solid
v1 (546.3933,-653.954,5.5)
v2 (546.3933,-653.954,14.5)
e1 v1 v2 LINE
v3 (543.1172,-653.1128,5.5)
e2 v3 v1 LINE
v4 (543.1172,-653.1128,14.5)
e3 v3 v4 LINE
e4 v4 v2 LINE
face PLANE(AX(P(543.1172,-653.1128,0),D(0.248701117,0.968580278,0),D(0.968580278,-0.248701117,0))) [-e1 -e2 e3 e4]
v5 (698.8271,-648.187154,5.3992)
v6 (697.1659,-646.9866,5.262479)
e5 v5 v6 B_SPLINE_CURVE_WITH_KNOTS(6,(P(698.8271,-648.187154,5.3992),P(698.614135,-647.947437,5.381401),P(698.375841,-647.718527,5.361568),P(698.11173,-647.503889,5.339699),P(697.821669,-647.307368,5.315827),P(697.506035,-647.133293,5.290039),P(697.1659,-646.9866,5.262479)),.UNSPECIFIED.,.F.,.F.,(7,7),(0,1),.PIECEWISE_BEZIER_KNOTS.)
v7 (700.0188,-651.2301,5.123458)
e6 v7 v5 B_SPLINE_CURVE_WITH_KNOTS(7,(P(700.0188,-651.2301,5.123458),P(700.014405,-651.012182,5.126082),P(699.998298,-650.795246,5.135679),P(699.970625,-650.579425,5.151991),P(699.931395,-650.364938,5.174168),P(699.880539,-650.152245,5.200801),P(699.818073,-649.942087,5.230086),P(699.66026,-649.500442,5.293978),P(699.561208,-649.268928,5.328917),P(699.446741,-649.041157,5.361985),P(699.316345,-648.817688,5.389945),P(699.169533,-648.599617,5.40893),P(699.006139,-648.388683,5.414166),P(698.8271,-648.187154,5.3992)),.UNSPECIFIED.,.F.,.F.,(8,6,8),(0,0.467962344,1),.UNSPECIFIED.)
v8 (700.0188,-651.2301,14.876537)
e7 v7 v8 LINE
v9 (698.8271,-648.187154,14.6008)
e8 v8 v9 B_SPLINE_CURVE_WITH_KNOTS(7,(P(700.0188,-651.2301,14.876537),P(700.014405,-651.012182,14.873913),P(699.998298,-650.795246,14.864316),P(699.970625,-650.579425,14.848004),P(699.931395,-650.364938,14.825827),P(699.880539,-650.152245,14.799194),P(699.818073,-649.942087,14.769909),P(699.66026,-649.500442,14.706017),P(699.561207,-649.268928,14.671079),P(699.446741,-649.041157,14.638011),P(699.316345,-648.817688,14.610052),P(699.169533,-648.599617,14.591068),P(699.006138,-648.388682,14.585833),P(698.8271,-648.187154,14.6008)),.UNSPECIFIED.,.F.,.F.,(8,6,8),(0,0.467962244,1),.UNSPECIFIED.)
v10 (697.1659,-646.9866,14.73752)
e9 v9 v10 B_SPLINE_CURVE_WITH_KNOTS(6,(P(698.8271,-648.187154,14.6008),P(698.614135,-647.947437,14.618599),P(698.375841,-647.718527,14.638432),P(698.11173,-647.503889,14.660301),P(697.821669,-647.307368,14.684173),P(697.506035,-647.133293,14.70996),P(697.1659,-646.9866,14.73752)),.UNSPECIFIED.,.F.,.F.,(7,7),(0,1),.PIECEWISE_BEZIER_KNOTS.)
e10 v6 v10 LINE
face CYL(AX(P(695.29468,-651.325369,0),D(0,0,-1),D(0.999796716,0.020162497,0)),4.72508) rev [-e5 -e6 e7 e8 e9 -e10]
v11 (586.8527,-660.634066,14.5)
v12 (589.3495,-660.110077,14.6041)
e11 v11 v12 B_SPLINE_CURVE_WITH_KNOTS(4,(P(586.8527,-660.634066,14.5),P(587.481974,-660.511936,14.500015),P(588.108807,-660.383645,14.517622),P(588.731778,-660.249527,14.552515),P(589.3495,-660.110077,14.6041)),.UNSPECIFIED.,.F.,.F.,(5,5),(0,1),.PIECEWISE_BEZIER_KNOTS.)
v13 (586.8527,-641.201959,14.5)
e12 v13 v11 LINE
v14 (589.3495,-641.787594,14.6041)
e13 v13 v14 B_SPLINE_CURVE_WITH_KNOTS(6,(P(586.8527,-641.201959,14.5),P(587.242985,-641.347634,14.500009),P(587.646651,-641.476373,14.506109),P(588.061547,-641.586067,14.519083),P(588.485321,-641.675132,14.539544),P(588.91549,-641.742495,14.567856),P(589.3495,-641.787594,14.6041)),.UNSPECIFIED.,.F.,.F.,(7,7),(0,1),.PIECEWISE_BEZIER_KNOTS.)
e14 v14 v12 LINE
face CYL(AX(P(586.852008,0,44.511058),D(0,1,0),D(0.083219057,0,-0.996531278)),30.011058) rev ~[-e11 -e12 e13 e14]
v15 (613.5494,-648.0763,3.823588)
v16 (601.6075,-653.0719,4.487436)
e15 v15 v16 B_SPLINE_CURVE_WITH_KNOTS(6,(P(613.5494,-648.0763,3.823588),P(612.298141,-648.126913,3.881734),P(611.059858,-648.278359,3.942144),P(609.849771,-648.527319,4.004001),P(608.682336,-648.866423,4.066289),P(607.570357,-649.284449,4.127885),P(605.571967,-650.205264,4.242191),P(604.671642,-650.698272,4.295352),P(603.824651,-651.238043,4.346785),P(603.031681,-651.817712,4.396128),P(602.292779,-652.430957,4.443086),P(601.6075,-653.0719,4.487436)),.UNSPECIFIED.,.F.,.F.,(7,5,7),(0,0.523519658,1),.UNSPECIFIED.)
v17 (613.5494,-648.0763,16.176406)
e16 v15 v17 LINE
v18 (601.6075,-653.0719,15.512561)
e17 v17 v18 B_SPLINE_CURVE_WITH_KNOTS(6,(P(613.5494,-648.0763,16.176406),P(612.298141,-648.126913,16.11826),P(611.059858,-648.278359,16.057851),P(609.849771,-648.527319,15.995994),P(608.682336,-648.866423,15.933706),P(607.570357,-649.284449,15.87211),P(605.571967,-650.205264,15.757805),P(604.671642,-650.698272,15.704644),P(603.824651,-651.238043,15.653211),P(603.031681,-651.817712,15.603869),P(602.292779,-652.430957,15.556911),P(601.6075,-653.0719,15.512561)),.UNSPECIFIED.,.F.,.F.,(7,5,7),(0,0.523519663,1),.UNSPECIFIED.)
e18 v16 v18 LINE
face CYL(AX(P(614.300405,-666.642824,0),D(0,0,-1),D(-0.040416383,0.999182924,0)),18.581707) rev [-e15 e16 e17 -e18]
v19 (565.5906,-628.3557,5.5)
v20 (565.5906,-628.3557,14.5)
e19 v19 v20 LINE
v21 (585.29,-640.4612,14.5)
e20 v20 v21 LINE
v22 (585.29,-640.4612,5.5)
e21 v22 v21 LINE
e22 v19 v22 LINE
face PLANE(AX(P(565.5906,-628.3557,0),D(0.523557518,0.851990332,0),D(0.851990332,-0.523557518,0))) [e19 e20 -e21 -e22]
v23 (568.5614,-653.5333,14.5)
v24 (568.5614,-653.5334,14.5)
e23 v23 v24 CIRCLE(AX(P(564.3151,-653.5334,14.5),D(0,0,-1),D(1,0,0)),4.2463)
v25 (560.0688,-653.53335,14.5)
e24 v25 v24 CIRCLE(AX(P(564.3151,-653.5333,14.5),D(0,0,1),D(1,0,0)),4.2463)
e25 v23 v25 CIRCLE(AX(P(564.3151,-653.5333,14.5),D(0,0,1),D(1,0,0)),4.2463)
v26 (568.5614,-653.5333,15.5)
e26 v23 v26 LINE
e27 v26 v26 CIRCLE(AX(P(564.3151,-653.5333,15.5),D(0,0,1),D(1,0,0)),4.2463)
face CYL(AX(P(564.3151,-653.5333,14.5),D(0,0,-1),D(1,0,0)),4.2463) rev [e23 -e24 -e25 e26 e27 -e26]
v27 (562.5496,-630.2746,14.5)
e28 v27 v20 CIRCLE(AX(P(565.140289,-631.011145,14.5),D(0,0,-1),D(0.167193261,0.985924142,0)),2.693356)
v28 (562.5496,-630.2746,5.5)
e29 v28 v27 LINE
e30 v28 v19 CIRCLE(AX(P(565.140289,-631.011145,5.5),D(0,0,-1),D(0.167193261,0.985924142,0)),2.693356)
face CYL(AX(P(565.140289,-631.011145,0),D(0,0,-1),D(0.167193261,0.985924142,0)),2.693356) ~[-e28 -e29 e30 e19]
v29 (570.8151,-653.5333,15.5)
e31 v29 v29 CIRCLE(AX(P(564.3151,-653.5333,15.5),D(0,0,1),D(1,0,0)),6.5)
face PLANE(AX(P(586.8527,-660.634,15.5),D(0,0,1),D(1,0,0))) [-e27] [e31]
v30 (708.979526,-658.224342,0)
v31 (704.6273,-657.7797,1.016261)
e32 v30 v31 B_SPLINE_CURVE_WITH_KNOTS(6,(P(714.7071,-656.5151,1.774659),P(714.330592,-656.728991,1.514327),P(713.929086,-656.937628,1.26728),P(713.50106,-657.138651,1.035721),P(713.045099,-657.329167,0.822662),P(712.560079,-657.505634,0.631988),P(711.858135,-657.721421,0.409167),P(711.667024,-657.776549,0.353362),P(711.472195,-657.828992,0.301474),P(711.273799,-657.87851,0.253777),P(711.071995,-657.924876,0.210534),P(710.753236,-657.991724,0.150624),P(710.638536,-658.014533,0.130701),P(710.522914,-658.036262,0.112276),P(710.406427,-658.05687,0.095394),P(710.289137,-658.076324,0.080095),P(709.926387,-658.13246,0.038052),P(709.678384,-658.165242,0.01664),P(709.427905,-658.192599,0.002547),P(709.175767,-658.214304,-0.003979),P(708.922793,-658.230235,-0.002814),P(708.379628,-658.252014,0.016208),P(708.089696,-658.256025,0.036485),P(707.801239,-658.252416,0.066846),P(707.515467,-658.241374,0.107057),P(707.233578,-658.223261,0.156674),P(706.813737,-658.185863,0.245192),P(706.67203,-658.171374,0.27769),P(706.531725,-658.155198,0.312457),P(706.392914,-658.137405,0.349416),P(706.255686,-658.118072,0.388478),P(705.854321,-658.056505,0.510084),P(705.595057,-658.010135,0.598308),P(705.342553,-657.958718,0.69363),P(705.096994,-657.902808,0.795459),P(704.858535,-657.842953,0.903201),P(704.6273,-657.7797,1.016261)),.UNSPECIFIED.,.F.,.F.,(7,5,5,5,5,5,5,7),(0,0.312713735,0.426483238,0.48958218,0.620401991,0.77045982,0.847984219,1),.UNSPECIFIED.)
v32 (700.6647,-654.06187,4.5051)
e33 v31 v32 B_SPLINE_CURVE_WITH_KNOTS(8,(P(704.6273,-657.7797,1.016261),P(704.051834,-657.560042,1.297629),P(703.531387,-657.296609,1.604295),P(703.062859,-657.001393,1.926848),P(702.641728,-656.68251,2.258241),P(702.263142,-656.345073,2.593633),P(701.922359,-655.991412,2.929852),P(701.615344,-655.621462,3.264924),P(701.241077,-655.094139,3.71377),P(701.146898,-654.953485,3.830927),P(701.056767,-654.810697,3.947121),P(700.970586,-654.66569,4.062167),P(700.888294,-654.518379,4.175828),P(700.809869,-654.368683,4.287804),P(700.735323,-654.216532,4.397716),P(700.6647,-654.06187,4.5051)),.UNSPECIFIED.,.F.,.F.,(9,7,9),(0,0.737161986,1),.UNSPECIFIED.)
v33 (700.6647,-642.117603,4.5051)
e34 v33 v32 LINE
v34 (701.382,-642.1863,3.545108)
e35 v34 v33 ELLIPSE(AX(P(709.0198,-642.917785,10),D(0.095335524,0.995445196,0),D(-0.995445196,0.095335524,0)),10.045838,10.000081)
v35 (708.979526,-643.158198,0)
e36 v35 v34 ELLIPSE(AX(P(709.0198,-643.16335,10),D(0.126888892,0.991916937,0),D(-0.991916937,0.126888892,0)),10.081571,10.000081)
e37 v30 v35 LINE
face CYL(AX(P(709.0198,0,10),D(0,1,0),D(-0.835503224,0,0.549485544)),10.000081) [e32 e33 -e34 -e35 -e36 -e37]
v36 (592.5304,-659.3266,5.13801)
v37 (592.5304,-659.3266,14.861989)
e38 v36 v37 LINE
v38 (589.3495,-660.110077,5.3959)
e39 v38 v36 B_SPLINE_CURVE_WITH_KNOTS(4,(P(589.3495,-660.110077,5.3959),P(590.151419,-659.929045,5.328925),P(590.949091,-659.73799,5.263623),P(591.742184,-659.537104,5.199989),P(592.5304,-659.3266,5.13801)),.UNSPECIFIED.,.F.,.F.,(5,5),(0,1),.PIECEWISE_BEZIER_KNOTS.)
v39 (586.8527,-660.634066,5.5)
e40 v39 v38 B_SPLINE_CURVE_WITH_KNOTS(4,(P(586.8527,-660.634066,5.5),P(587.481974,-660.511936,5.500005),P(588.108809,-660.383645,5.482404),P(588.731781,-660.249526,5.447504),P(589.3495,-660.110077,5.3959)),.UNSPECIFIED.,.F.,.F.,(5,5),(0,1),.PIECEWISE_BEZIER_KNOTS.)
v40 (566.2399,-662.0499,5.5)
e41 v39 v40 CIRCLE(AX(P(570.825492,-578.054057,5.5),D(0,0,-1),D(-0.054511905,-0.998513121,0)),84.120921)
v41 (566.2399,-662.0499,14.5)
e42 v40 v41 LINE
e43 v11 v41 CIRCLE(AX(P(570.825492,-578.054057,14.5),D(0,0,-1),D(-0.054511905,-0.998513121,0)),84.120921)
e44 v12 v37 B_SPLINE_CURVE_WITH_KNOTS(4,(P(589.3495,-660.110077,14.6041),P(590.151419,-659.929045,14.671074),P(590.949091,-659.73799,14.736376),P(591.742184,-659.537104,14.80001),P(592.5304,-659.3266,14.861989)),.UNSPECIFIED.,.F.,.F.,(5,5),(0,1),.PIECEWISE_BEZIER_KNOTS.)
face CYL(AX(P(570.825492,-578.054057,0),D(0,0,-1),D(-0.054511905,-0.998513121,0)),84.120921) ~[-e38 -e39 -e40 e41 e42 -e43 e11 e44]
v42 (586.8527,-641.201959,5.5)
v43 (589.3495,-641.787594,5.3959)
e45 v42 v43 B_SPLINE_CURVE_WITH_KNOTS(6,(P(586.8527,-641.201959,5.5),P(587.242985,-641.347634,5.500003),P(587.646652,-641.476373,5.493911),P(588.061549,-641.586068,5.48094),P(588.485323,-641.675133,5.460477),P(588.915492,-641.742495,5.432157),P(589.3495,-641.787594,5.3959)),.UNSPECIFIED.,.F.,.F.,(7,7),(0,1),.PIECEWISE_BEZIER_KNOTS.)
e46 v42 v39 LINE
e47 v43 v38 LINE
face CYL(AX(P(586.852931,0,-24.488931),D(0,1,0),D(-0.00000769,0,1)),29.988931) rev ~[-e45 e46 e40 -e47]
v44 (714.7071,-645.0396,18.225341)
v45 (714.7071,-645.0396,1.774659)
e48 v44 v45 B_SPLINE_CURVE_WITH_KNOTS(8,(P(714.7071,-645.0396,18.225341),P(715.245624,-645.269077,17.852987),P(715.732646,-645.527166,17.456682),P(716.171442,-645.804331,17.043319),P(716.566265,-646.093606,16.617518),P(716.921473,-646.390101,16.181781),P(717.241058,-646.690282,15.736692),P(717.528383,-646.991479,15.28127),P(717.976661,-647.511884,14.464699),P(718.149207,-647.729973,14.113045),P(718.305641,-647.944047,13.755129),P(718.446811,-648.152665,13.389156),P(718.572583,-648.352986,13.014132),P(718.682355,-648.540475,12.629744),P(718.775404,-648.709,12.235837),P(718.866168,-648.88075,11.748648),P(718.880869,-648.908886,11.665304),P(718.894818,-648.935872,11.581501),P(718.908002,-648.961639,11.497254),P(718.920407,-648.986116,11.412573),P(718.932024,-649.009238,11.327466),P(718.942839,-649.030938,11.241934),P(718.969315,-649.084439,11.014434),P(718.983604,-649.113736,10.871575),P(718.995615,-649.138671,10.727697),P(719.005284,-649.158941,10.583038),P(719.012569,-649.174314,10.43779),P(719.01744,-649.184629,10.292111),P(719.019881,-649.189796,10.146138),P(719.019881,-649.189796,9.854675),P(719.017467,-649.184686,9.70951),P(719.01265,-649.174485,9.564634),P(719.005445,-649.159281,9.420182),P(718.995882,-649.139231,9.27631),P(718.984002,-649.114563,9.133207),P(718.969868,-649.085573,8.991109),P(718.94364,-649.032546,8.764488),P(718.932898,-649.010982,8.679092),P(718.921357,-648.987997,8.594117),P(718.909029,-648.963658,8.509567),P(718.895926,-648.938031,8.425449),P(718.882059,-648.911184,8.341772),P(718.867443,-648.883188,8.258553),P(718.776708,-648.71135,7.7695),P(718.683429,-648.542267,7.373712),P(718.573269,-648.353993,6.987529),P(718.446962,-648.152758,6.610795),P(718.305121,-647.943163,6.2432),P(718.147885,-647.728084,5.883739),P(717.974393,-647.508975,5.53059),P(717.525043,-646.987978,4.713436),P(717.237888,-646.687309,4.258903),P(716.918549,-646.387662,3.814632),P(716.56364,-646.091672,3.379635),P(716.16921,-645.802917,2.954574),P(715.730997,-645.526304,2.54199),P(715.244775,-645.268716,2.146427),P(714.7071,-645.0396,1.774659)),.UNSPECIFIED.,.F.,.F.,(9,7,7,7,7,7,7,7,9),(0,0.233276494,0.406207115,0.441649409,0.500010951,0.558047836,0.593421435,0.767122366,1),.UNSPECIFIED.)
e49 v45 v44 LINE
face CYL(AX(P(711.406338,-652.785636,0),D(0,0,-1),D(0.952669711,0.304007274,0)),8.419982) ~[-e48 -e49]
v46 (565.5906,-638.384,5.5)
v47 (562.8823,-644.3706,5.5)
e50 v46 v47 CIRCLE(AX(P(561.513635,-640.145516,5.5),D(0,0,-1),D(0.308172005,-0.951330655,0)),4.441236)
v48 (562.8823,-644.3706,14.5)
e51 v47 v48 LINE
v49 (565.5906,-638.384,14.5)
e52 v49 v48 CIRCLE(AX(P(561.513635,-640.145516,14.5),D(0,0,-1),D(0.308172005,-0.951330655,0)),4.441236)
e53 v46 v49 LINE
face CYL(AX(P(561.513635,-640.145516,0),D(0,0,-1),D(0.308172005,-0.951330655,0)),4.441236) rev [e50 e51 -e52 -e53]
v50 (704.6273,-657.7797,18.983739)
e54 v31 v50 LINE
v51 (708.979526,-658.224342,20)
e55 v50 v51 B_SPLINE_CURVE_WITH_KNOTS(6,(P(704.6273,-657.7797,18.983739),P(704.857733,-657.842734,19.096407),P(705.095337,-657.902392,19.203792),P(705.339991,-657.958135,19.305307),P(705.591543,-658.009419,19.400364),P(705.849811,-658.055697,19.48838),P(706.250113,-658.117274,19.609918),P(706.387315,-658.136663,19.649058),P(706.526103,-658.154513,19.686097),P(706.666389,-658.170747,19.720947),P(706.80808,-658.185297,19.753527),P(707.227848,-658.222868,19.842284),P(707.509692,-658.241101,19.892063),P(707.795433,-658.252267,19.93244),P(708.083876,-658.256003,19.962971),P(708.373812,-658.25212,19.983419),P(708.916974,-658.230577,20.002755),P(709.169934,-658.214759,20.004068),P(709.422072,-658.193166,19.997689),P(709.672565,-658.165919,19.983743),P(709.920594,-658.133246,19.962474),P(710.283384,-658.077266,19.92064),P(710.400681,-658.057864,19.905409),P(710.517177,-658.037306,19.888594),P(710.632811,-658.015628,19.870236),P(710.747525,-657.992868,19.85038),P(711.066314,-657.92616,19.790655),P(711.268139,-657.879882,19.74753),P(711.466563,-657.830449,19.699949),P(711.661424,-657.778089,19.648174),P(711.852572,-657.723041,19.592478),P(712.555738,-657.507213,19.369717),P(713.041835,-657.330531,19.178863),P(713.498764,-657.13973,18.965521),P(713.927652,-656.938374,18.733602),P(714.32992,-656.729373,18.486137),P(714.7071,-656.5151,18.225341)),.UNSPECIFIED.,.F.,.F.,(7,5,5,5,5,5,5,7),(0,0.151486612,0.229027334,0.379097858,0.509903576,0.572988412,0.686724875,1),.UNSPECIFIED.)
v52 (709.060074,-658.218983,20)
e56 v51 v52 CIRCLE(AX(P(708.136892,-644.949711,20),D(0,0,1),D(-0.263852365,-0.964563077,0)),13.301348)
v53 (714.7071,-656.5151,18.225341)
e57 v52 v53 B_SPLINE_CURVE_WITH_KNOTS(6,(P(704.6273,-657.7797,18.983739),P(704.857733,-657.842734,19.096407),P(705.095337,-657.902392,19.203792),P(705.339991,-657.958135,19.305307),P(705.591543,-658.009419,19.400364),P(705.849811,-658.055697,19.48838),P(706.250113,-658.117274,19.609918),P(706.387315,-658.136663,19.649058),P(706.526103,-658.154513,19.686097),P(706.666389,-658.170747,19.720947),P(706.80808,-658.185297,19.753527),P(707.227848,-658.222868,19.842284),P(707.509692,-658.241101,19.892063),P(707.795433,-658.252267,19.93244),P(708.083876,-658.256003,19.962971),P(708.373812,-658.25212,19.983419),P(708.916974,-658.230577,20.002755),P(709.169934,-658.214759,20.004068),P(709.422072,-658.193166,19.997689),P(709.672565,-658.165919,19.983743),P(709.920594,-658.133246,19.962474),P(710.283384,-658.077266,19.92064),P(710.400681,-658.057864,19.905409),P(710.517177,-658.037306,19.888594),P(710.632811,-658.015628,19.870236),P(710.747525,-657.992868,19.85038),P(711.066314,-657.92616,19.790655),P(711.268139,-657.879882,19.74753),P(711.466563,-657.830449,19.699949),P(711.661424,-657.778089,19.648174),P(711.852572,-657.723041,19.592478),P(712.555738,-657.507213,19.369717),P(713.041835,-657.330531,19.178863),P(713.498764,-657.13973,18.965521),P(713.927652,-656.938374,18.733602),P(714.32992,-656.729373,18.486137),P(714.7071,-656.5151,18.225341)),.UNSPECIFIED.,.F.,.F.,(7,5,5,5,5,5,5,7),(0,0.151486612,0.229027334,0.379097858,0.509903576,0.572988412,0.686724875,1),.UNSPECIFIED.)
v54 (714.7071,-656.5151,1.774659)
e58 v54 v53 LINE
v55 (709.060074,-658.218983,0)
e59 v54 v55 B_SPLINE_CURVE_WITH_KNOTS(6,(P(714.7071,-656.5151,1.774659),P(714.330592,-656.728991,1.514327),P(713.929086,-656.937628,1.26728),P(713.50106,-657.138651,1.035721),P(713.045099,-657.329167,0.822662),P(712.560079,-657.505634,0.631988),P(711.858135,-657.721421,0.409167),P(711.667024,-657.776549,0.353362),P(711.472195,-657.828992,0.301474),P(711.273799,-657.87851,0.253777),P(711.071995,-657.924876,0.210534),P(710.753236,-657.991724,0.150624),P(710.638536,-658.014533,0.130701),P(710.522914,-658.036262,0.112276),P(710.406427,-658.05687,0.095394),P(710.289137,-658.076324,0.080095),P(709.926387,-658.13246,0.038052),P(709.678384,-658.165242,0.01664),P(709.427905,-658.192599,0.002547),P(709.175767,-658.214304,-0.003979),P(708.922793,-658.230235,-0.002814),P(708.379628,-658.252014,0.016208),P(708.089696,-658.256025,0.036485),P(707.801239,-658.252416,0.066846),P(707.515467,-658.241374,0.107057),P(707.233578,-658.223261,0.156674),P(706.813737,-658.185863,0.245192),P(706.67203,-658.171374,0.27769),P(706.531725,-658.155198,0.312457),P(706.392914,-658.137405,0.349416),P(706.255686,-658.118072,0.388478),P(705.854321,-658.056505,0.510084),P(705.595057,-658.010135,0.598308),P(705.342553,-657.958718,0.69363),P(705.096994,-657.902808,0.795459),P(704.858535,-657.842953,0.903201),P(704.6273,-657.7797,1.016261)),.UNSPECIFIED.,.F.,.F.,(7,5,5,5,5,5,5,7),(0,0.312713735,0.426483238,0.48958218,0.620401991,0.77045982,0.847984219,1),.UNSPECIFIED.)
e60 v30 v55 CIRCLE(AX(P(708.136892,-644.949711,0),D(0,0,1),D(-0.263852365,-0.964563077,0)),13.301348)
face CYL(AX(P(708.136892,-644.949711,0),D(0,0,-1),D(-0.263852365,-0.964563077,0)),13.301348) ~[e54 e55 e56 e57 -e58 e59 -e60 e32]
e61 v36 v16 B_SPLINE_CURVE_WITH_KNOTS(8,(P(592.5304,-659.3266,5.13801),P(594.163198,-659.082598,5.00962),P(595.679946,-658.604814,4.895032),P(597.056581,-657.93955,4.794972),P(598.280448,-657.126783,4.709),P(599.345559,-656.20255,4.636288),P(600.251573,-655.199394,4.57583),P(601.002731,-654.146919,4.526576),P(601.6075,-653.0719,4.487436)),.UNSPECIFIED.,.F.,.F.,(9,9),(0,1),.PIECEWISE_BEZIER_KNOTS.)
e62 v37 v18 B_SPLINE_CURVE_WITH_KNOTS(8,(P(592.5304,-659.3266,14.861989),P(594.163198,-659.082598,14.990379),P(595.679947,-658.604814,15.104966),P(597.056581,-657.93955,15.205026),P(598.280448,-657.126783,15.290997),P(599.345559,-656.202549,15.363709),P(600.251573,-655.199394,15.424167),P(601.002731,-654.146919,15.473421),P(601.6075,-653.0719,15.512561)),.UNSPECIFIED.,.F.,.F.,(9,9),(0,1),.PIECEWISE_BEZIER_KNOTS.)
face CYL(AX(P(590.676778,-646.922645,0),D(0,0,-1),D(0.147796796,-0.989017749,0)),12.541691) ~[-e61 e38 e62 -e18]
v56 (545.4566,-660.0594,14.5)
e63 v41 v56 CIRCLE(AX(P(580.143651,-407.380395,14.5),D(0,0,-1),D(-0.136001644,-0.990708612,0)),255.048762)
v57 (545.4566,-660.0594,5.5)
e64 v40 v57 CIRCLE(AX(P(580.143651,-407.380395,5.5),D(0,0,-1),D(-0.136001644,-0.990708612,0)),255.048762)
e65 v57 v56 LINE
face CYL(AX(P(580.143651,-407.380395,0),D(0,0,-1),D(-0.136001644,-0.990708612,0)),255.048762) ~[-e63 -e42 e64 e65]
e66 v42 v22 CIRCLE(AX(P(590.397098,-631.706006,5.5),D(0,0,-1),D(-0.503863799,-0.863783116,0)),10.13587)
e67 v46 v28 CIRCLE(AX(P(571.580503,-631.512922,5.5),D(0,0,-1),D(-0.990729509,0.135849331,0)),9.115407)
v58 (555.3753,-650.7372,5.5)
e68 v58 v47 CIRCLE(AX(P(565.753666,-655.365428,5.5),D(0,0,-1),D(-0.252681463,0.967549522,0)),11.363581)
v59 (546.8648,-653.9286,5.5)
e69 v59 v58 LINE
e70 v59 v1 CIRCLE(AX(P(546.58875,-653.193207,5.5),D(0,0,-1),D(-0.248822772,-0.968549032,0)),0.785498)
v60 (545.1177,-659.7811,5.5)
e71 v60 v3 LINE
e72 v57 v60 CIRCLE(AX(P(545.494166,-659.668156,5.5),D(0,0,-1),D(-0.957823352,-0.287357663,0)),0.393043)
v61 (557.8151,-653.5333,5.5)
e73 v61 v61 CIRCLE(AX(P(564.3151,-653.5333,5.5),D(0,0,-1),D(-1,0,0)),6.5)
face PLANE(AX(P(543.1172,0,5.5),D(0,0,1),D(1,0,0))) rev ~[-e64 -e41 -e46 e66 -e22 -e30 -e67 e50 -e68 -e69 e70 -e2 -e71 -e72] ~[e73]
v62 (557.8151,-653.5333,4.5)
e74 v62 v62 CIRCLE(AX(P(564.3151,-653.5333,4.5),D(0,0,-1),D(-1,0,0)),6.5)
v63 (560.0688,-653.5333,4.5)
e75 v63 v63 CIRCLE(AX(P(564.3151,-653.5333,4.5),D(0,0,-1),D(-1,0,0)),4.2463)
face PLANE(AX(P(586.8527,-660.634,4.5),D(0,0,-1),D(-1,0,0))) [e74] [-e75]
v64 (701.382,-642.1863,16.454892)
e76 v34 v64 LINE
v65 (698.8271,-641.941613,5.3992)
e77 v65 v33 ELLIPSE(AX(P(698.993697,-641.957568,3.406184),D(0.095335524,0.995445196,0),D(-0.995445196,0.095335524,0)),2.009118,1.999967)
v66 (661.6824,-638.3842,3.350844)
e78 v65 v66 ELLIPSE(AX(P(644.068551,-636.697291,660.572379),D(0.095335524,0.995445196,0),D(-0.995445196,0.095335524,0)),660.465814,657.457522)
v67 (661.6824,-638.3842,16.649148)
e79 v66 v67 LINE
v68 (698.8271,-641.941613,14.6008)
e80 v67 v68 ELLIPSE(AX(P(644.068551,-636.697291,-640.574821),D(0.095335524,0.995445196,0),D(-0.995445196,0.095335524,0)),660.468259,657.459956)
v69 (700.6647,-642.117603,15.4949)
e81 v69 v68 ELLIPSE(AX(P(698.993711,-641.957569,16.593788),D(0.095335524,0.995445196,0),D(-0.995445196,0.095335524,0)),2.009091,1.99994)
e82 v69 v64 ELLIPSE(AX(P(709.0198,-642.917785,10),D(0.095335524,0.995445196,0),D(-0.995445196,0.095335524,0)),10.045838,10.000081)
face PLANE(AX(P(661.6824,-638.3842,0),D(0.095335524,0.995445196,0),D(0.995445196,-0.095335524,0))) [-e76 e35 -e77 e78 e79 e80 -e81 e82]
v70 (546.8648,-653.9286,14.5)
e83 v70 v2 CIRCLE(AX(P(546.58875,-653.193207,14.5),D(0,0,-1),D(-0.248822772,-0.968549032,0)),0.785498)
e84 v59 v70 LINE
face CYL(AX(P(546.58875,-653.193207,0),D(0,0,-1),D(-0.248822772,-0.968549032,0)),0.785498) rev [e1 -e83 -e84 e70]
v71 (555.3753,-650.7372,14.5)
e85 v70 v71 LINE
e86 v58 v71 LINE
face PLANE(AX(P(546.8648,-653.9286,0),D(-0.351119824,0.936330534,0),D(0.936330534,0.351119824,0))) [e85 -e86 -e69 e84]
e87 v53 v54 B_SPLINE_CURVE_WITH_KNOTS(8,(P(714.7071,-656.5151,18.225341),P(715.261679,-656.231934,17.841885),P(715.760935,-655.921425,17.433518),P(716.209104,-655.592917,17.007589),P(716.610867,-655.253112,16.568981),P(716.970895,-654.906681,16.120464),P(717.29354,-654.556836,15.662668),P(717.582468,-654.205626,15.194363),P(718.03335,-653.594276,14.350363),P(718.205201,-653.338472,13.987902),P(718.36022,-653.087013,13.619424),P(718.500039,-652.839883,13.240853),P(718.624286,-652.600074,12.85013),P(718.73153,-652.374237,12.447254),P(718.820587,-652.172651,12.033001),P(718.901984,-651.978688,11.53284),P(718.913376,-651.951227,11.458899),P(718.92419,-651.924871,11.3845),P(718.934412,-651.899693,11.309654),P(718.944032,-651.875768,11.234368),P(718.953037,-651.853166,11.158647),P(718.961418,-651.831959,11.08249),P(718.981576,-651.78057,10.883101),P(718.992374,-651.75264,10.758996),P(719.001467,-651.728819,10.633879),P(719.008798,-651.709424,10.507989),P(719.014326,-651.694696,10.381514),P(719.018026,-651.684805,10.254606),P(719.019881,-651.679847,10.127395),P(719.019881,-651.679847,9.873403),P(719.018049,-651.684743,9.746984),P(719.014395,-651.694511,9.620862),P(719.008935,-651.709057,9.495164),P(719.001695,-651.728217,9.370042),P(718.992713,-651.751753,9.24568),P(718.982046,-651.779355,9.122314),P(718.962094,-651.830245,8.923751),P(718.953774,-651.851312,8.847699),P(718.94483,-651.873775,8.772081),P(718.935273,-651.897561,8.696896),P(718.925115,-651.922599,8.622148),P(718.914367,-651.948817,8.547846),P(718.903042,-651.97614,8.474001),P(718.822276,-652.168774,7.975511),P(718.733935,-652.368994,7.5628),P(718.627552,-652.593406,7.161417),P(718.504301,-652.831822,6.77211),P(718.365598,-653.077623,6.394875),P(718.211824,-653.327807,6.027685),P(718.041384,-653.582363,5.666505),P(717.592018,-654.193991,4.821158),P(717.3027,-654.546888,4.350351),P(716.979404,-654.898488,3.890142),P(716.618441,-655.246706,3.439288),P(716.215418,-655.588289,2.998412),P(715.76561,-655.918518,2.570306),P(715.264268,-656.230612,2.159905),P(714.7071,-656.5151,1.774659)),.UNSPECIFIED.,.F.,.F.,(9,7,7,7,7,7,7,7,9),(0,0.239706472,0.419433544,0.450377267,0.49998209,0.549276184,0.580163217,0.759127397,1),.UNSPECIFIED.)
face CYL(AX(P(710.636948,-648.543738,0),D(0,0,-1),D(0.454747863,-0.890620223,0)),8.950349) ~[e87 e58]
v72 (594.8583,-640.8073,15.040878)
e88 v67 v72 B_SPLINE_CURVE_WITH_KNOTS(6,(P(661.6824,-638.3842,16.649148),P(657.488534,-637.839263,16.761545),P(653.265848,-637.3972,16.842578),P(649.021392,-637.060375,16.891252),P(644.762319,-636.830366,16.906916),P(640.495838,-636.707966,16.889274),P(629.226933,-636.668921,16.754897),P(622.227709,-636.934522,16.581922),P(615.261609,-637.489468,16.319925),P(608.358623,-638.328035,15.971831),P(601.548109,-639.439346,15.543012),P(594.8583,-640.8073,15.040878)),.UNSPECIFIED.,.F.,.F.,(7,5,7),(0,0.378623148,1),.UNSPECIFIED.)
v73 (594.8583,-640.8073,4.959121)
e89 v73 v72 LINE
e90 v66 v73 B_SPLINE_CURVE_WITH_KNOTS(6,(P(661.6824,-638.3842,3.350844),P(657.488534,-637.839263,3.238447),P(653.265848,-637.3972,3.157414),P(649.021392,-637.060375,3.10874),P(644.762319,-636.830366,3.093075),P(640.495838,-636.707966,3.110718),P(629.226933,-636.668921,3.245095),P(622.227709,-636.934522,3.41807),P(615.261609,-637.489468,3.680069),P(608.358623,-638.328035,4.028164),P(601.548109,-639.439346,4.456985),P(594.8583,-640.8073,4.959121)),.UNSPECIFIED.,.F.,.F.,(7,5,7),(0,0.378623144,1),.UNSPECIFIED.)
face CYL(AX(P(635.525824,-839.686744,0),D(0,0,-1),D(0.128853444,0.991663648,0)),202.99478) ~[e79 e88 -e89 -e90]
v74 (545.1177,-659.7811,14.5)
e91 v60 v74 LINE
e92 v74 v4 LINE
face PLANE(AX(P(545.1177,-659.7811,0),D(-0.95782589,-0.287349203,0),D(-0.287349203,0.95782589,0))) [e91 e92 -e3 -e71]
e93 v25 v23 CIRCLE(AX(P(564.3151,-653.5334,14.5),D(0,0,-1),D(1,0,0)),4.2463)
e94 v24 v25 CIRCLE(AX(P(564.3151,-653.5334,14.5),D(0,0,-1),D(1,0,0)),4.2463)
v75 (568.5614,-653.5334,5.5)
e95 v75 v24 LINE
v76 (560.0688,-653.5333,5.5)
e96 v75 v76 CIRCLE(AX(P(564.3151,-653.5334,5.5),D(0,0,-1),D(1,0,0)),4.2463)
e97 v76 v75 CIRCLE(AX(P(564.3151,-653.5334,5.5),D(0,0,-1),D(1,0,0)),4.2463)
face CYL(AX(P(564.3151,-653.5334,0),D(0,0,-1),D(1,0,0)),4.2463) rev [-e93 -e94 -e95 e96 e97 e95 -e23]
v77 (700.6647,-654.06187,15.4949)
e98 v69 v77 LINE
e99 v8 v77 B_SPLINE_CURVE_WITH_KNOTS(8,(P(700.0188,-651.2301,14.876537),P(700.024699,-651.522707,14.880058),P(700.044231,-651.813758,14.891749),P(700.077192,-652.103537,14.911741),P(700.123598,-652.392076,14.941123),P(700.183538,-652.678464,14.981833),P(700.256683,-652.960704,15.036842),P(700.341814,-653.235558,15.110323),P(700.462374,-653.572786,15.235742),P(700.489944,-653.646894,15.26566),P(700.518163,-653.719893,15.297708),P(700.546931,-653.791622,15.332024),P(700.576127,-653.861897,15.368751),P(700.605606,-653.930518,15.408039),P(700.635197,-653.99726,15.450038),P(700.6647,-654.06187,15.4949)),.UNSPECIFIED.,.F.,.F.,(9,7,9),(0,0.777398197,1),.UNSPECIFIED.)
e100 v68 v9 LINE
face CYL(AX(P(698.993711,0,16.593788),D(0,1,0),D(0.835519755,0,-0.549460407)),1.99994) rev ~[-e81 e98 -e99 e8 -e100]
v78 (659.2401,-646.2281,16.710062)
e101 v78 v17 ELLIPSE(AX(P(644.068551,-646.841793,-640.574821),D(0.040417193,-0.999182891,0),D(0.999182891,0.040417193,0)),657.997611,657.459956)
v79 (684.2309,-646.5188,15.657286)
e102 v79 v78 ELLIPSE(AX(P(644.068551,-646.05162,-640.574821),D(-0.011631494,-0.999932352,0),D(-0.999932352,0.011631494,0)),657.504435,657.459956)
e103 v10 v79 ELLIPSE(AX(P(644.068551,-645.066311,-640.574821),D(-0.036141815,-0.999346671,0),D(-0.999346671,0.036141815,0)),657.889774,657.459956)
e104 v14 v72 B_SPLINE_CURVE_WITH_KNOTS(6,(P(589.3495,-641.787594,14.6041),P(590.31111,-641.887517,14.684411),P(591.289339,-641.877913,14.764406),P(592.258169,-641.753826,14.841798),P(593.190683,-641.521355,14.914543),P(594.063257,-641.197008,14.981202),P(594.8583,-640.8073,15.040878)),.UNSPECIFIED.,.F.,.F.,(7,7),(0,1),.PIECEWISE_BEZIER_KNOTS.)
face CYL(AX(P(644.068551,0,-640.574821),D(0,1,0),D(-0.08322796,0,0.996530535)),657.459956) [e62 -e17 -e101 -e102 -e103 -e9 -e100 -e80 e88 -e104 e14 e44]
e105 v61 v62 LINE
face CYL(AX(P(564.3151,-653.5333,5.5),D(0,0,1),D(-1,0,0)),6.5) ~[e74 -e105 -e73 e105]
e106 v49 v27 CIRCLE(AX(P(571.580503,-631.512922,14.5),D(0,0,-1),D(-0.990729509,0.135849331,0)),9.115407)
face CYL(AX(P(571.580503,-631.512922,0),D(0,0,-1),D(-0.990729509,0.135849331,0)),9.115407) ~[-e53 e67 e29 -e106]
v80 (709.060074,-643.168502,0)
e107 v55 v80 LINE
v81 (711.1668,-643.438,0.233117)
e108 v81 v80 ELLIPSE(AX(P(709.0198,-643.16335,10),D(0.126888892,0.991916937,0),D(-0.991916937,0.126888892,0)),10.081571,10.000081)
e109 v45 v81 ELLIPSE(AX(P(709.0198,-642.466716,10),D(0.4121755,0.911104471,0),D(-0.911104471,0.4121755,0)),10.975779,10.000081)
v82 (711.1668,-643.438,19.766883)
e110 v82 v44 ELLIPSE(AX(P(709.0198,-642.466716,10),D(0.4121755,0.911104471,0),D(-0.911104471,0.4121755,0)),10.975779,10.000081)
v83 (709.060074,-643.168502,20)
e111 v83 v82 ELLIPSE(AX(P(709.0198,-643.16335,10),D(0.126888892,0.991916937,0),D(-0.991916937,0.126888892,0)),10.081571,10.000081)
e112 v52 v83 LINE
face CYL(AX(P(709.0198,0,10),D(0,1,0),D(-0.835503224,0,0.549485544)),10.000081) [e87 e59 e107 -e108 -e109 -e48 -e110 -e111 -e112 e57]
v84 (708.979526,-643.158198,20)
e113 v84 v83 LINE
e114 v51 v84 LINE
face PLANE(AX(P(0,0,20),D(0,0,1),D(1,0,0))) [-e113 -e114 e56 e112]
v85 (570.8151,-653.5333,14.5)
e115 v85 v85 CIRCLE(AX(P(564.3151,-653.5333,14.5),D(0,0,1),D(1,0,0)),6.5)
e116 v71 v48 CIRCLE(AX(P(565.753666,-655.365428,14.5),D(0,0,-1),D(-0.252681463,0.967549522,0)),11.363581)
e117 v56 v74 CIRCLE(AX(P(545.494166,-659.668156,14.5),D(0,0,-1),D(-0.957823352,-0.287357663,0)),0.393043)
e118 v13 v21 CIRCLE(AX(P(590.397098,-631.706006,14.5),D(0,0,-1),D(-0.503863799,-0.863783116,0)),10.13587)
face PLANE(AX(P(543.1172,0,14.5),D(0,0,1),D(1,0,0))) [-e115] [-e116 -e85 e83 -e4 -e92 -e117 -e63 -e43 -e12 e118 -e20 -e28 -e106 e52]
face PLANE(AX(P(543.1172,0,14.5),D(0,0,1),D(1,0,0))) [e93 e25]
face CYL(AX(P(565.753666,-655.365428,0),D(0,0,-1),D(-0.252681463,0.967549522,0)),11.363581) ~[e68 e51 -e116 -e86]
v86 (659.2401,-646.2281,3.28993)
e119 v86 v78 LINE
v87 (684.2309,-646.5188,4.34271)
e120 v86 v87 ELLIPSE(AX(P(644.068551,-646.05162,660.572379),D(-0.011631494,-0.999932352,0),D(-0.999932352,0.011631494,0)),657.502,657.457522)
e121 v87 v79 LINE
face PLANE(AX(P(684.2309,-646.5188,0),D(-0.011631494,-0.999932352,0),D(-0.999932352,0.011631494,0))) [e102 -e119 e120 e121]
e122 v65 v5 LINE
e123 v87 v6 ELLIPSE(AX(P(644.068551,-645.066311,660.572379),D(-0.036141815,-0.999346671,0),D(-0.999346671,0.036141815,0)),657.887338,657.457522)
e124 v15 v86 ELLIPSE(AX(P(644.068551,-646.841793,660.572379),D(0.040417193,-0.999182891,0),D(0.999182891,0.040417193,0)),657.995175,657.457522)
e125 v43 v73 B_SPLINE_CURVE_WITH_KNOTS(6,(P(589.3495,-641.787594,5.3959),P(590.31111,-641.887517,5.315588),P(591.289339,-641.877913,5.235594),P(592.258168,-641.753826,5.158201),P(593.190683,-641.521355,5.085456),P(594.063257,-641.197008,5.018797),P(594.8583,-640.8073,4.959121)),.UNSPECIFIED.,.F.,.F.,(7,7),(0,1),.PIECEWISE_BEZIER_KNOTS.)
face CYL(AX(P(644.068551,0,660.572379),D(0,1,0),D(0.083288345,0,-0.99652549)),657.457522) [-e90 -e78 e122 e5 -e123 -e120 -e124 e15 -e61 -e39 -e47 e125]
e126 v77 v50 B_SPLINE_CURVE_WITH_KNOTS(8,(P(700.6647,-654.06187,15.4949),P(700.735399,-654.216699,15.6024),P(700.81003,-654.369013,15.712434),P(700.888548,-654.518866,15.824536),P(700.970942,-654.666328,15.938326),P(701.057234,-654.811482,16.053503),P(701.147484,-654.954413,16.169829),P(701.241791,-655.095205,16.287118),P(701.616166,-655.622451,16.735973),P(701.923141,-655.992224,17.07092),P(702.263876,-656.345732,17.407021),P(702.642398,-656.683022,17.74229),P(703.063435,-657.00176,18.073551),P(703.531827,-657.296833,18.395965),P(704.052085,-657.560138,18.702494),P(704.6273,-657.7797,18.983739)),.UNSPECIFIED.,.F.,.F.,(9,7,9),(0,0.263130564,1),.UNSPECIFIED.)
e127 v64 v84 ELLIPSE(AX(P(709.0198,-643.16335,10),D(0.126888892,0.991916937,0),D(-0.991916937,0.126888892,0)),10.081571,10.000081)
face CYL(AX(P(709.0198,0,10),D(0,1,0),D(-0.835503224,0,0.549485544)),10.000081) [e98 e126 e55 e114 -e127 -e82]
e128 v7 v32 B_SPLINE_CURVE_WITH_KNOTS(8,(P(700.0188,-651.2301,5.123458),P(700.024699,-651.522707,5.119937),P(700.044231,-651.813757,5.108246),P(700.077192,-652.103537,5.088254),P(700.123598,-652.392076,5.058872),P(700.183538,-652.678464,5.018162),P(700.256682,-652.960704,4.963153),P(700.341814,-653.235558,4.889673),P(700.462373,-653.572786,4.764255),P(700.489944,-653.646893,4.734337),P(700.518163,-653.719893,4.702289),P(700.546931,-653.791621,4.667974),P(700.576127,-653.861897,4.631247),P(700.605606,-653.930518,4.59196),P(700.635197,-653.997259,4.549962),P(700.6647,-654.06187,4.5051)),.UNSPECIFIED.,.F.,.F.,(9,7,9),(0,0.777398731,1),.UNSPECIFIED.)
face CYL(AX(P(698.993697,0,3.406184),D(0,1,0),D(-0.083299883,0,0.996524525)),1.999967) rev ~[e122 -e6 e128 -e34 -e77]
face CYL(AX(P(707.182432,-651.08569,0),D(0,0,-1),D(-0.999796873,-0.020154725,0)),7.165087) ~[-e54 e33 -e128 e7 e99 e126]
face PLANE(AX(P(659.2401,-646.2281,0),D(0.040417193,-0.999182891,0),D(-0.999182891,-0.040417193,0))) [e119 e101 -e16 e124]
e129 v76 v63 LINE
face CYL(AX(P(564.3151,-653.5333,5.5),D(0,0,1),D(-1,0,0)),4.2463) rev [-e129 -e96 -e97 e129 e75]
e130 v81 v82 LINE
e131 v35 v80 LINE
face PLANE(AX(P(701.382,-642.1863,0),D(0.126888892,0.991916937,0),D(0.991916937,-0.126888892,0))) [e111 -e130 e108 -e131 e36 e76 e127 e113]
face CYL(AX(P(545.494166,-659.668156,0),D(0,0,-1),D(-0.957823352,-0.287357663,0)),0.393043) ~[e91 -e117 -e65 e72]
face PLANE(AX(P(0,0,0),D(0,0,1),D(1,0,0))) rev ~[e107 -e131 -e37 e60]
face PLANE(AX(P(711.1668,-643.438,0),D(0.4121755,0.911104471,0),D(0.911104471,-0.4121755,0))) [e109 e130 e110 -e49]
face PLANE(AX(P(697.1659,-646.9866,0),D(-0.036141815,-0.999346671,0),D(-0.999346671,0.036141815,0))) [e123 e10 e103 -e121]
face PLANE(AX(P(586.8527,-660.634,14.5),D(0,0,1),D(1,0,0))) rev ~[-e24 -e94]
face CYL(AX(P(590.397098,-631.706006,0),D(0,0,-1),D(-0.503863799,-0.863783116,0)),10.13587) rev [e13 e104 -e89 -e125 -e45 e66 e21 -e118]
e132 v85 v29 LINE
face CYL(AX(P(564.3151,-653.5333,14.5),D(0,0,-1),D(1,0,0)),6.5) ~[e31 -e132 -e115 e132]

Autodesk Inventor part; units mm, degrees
ref_plane "YZ Plane" through (0, 0, 0) normal (1, 0, 0) x (0, 1, 0)
ref_plane "XZ Plane" through (0, 0, 0) normal (0, 1, 0) x (-1, 0, 0)
ref_plane "XY Plane" through (0, 0, 0) normal (0, 0, 1) x (1, 0, 0)
sketch "Sketch1" plane through (0, 0, 0) normal (0, 0, 1) x (1, 0, 0)
  line L0 (545.1177, -659.7811) -> (543.1172, -653.1128)
  line L1 (543.1172, -653.1128) -> (546.3933, -653.954)
  line L2 (546.8648, -653.9286) -> (555.3753, -650.7372)
  line L3 (565.5906, -628.3557) -> (585.29, -640.4612)
  line L4 (661.6824, -638.3842) -> (701.382, -642.1863)
  line L5 (701.382, -642.1863) -> (711.1668, -643.438)
  line L6 (711.1668, -643.438) -> (714.7071, -645.0396)
  line L7 (697.1659, -646.9866) -> (684.2309, -646.5188)
  line L8 (684.2309, -646.5188) -> (659.2401, -646.2281)
  line L9 (659.2401, -646.2281) -> (613.5494, -648.0763)
  arc A0 (545.1177, -659.7811) -> (545.4566, -660.0594) centre (545.4941, -659.6682) ccw
  arc A1 (546.3933, -653.954) -> (546.8648, -653.9286) centre (546.5888, -653.1927) ccw
  arc A2 (562.8823, -644.3706) -> (555.3753, -650.7372) centre (565.7536, -655.3653) ccw
  arc A3 (562.8823, -644.3706) -> (565.5906, -638.384) centre (561.5138, -640.1457) ccw
  arc A4 (562.5496, -630.2746) -> (565.5906, -638.384) centre (571.5807, -631.5129) ccw
  arc A5 (565.5906, -628.3557) -> (562.5496, -630.2746) centre (565.1403, -631.0112) ccw
  arc A6 (585.29, -640.4612) -> (594.8583, -640.8073) centre (590.3971, -631.706) ccw
  arc A7 (661.6824, -638.3842) -> (594.8583, -640.8073) centre (635.5259, -839.6851) ccw
  arc A8 (719.4278, -650.2259) -> (714.7071, -645.0396) centre (711.4064, -652.7856) ccw
  arc A9 (714.7071, -656.5151) -> (719.4278, -650.2259) centre (710.637, -648.5438) ccw
  arc A10 (704.6273, -657.7797) -> (714.7071, -656.5151) centre (708.1369, -644.9496) ccw
  arc A11 (700.0188, -651.2301) -> (704.6273, -657.7797) centre (707.1824, -651.0857) ccw
  arc A12 (700.0188, -651.2301) -> (697.1659, -646.9866) centre (695.2949, -651.3253) ccw
  arc A13 (613.5494, -648.0763) -> (601.6075, -653.0719) centre (614.3004, -666.6428) ccw
  arc A14 (592.5304, -659.3266) -> (601.6075, -653.0719) centre (590.6768, -646.9227) ccw
  arc A15 (566.2399, -662.0499) -> (592.5304, -659.3266) centre (570.8255, -578.0544) ccw
  arc A16 (545.4566, -660.0594) -> (566.2399, -662.0499) centre (580.1428, -407.3877) ccw
  circle A17 centre (564.3151, -653.5334) radius 4.2463
  point P0 (0, 0)
  dimension "d30" = 0.393
  dimension "d31" = 0.786
extrude "Extrusion1" add sketch "Sketch1" along normal blind 20
sketch "Sketch2" plane through (0, 0, 0) normal (0, 1, 0) x (-1, 0, 0)
  line L0 (-543.1172, 0) -> (-543.1172, 20) projected
  line L1 (-700.0198, 5.5) -> (-700.0198, 14.5)
  line L2 (-543.1172, 5.5) -> (-543.1172, 14.5)
  line L3 (-700.0198, 10) -> (-543.1172, 10) construction
  line L4 (-621.5685, 10) -> (-621.5685, 3.5) construction
  line L5 (-543.1172, 5.5) -> (-586.8527, 5.5)
  arc A0 (-698.8271, 5.3992) -> (-589.3495, 5.3959) centre (-644.0685, 660.5736) ccw
  arc A1 (-586.8527, 5.5) -> (-589.3495, 5.3959) centre (-586.8527, -24.5) ccw
  line L6 (-543.1172, 14.5) -> (-586.8527, 14.5)
  arc A2 (-589.3495, 14.6041) -> (-698.8271, 14.6008) centre (-644.0685, -640.5736) ccw
  arc A3 (-589.3495, 14.6041) -> (-586.8527, 14.5) centre (-586.8527, 44.5) ccw
  line L7 (-527.985, -16.5873) -> (-734.4622, -16.5873)
  line L8 (-734.4622, -16.5873) -> (-734.4622, 28.3783)
  line L9 (-734.4622, 28.3783) -> (-527.985, 28.3783)
  line L10 (-527.985, 28.3783) -> (-527.985, -16.5873)
  arc A4 (-700.6647, 15.4949) -> (-700.6647, 4.5051) centre (-709.0198, 10) ccw
  arc A5 (-698.8271, 5.3992) -> (-700.6647, 4.5051) centre (-698.9937, 3.4062) ccw
  arc A6 (-700.6647, 15.4949) -> (-698.8271, 14.6008) centre (-698.9937, 16.5938) ccw
  point P0 (0, 0)
  point P1 (0, 0)
  point P2 (0, 0)
  point P3 (-588.1172, 5.5)
  dimension "d42" = 9
  dimension "d43" = 9
  dimension "d45" = 6.5
  dimension "d46" = 45
  dimension "d47" = 30
  dimension "d48" = 20
  dimension "d49" = 9
  dimension "d50" = 2
extrude "Extrusion2" cut sketch "Sketch2" against normal through all
sketch "Sketch3" plane through (586.8527, -660.634, 14.5) normal (0, 0, 1) x (1, 0, 0)
  circle A0 centre (-22.5376, 7.1007) radius 4.2463 projected
  circle A1 centre (-22.5376, 7.1007) radius 6.5
  point P0 (-586.8527, 660.634)
  dimension "d53" = 13
extrude "Extrusion3" add sketch "Sketch3" along normal blind 1
sketch "Sketch4" plane through (586.8527, -660.634, 5.5) normal (0, 0, -1) x (-1, 0, 0)
  circle A0 centre (22.5376, 7.1007) radius 4.2463 projected
  circle A1 centre (22.5376, 7.1007) radius 6.5
  point P0 (586.8527, 660.634)
  dimension "d56" = 13
extrude "Extrusion4" add sketch "Sketch4" along normal blind 1
sketch "Sketch5" plane through (586.8527, -660.634, 5.5) normal (0, 0, -1) x (-1, 0, 0)
  line L0 (43.7354, 7.5213) -> (41.735, 0.8529) projected
  line L1 (0, 19.4321) -> (0, 0) projected
  line L2 (43.7354, 7.5213) -> (53.7354, 7.5213)
  line L3 (53.7354, 7.5213) -> (41.735, 0.8529)
  point P0 (586.8527, 660.634)
  dimension "d59" = 10
extrude "Extrusion5" [suppressed]
fillet "Fillet1" [suppressed]
properties part number "MAN"
